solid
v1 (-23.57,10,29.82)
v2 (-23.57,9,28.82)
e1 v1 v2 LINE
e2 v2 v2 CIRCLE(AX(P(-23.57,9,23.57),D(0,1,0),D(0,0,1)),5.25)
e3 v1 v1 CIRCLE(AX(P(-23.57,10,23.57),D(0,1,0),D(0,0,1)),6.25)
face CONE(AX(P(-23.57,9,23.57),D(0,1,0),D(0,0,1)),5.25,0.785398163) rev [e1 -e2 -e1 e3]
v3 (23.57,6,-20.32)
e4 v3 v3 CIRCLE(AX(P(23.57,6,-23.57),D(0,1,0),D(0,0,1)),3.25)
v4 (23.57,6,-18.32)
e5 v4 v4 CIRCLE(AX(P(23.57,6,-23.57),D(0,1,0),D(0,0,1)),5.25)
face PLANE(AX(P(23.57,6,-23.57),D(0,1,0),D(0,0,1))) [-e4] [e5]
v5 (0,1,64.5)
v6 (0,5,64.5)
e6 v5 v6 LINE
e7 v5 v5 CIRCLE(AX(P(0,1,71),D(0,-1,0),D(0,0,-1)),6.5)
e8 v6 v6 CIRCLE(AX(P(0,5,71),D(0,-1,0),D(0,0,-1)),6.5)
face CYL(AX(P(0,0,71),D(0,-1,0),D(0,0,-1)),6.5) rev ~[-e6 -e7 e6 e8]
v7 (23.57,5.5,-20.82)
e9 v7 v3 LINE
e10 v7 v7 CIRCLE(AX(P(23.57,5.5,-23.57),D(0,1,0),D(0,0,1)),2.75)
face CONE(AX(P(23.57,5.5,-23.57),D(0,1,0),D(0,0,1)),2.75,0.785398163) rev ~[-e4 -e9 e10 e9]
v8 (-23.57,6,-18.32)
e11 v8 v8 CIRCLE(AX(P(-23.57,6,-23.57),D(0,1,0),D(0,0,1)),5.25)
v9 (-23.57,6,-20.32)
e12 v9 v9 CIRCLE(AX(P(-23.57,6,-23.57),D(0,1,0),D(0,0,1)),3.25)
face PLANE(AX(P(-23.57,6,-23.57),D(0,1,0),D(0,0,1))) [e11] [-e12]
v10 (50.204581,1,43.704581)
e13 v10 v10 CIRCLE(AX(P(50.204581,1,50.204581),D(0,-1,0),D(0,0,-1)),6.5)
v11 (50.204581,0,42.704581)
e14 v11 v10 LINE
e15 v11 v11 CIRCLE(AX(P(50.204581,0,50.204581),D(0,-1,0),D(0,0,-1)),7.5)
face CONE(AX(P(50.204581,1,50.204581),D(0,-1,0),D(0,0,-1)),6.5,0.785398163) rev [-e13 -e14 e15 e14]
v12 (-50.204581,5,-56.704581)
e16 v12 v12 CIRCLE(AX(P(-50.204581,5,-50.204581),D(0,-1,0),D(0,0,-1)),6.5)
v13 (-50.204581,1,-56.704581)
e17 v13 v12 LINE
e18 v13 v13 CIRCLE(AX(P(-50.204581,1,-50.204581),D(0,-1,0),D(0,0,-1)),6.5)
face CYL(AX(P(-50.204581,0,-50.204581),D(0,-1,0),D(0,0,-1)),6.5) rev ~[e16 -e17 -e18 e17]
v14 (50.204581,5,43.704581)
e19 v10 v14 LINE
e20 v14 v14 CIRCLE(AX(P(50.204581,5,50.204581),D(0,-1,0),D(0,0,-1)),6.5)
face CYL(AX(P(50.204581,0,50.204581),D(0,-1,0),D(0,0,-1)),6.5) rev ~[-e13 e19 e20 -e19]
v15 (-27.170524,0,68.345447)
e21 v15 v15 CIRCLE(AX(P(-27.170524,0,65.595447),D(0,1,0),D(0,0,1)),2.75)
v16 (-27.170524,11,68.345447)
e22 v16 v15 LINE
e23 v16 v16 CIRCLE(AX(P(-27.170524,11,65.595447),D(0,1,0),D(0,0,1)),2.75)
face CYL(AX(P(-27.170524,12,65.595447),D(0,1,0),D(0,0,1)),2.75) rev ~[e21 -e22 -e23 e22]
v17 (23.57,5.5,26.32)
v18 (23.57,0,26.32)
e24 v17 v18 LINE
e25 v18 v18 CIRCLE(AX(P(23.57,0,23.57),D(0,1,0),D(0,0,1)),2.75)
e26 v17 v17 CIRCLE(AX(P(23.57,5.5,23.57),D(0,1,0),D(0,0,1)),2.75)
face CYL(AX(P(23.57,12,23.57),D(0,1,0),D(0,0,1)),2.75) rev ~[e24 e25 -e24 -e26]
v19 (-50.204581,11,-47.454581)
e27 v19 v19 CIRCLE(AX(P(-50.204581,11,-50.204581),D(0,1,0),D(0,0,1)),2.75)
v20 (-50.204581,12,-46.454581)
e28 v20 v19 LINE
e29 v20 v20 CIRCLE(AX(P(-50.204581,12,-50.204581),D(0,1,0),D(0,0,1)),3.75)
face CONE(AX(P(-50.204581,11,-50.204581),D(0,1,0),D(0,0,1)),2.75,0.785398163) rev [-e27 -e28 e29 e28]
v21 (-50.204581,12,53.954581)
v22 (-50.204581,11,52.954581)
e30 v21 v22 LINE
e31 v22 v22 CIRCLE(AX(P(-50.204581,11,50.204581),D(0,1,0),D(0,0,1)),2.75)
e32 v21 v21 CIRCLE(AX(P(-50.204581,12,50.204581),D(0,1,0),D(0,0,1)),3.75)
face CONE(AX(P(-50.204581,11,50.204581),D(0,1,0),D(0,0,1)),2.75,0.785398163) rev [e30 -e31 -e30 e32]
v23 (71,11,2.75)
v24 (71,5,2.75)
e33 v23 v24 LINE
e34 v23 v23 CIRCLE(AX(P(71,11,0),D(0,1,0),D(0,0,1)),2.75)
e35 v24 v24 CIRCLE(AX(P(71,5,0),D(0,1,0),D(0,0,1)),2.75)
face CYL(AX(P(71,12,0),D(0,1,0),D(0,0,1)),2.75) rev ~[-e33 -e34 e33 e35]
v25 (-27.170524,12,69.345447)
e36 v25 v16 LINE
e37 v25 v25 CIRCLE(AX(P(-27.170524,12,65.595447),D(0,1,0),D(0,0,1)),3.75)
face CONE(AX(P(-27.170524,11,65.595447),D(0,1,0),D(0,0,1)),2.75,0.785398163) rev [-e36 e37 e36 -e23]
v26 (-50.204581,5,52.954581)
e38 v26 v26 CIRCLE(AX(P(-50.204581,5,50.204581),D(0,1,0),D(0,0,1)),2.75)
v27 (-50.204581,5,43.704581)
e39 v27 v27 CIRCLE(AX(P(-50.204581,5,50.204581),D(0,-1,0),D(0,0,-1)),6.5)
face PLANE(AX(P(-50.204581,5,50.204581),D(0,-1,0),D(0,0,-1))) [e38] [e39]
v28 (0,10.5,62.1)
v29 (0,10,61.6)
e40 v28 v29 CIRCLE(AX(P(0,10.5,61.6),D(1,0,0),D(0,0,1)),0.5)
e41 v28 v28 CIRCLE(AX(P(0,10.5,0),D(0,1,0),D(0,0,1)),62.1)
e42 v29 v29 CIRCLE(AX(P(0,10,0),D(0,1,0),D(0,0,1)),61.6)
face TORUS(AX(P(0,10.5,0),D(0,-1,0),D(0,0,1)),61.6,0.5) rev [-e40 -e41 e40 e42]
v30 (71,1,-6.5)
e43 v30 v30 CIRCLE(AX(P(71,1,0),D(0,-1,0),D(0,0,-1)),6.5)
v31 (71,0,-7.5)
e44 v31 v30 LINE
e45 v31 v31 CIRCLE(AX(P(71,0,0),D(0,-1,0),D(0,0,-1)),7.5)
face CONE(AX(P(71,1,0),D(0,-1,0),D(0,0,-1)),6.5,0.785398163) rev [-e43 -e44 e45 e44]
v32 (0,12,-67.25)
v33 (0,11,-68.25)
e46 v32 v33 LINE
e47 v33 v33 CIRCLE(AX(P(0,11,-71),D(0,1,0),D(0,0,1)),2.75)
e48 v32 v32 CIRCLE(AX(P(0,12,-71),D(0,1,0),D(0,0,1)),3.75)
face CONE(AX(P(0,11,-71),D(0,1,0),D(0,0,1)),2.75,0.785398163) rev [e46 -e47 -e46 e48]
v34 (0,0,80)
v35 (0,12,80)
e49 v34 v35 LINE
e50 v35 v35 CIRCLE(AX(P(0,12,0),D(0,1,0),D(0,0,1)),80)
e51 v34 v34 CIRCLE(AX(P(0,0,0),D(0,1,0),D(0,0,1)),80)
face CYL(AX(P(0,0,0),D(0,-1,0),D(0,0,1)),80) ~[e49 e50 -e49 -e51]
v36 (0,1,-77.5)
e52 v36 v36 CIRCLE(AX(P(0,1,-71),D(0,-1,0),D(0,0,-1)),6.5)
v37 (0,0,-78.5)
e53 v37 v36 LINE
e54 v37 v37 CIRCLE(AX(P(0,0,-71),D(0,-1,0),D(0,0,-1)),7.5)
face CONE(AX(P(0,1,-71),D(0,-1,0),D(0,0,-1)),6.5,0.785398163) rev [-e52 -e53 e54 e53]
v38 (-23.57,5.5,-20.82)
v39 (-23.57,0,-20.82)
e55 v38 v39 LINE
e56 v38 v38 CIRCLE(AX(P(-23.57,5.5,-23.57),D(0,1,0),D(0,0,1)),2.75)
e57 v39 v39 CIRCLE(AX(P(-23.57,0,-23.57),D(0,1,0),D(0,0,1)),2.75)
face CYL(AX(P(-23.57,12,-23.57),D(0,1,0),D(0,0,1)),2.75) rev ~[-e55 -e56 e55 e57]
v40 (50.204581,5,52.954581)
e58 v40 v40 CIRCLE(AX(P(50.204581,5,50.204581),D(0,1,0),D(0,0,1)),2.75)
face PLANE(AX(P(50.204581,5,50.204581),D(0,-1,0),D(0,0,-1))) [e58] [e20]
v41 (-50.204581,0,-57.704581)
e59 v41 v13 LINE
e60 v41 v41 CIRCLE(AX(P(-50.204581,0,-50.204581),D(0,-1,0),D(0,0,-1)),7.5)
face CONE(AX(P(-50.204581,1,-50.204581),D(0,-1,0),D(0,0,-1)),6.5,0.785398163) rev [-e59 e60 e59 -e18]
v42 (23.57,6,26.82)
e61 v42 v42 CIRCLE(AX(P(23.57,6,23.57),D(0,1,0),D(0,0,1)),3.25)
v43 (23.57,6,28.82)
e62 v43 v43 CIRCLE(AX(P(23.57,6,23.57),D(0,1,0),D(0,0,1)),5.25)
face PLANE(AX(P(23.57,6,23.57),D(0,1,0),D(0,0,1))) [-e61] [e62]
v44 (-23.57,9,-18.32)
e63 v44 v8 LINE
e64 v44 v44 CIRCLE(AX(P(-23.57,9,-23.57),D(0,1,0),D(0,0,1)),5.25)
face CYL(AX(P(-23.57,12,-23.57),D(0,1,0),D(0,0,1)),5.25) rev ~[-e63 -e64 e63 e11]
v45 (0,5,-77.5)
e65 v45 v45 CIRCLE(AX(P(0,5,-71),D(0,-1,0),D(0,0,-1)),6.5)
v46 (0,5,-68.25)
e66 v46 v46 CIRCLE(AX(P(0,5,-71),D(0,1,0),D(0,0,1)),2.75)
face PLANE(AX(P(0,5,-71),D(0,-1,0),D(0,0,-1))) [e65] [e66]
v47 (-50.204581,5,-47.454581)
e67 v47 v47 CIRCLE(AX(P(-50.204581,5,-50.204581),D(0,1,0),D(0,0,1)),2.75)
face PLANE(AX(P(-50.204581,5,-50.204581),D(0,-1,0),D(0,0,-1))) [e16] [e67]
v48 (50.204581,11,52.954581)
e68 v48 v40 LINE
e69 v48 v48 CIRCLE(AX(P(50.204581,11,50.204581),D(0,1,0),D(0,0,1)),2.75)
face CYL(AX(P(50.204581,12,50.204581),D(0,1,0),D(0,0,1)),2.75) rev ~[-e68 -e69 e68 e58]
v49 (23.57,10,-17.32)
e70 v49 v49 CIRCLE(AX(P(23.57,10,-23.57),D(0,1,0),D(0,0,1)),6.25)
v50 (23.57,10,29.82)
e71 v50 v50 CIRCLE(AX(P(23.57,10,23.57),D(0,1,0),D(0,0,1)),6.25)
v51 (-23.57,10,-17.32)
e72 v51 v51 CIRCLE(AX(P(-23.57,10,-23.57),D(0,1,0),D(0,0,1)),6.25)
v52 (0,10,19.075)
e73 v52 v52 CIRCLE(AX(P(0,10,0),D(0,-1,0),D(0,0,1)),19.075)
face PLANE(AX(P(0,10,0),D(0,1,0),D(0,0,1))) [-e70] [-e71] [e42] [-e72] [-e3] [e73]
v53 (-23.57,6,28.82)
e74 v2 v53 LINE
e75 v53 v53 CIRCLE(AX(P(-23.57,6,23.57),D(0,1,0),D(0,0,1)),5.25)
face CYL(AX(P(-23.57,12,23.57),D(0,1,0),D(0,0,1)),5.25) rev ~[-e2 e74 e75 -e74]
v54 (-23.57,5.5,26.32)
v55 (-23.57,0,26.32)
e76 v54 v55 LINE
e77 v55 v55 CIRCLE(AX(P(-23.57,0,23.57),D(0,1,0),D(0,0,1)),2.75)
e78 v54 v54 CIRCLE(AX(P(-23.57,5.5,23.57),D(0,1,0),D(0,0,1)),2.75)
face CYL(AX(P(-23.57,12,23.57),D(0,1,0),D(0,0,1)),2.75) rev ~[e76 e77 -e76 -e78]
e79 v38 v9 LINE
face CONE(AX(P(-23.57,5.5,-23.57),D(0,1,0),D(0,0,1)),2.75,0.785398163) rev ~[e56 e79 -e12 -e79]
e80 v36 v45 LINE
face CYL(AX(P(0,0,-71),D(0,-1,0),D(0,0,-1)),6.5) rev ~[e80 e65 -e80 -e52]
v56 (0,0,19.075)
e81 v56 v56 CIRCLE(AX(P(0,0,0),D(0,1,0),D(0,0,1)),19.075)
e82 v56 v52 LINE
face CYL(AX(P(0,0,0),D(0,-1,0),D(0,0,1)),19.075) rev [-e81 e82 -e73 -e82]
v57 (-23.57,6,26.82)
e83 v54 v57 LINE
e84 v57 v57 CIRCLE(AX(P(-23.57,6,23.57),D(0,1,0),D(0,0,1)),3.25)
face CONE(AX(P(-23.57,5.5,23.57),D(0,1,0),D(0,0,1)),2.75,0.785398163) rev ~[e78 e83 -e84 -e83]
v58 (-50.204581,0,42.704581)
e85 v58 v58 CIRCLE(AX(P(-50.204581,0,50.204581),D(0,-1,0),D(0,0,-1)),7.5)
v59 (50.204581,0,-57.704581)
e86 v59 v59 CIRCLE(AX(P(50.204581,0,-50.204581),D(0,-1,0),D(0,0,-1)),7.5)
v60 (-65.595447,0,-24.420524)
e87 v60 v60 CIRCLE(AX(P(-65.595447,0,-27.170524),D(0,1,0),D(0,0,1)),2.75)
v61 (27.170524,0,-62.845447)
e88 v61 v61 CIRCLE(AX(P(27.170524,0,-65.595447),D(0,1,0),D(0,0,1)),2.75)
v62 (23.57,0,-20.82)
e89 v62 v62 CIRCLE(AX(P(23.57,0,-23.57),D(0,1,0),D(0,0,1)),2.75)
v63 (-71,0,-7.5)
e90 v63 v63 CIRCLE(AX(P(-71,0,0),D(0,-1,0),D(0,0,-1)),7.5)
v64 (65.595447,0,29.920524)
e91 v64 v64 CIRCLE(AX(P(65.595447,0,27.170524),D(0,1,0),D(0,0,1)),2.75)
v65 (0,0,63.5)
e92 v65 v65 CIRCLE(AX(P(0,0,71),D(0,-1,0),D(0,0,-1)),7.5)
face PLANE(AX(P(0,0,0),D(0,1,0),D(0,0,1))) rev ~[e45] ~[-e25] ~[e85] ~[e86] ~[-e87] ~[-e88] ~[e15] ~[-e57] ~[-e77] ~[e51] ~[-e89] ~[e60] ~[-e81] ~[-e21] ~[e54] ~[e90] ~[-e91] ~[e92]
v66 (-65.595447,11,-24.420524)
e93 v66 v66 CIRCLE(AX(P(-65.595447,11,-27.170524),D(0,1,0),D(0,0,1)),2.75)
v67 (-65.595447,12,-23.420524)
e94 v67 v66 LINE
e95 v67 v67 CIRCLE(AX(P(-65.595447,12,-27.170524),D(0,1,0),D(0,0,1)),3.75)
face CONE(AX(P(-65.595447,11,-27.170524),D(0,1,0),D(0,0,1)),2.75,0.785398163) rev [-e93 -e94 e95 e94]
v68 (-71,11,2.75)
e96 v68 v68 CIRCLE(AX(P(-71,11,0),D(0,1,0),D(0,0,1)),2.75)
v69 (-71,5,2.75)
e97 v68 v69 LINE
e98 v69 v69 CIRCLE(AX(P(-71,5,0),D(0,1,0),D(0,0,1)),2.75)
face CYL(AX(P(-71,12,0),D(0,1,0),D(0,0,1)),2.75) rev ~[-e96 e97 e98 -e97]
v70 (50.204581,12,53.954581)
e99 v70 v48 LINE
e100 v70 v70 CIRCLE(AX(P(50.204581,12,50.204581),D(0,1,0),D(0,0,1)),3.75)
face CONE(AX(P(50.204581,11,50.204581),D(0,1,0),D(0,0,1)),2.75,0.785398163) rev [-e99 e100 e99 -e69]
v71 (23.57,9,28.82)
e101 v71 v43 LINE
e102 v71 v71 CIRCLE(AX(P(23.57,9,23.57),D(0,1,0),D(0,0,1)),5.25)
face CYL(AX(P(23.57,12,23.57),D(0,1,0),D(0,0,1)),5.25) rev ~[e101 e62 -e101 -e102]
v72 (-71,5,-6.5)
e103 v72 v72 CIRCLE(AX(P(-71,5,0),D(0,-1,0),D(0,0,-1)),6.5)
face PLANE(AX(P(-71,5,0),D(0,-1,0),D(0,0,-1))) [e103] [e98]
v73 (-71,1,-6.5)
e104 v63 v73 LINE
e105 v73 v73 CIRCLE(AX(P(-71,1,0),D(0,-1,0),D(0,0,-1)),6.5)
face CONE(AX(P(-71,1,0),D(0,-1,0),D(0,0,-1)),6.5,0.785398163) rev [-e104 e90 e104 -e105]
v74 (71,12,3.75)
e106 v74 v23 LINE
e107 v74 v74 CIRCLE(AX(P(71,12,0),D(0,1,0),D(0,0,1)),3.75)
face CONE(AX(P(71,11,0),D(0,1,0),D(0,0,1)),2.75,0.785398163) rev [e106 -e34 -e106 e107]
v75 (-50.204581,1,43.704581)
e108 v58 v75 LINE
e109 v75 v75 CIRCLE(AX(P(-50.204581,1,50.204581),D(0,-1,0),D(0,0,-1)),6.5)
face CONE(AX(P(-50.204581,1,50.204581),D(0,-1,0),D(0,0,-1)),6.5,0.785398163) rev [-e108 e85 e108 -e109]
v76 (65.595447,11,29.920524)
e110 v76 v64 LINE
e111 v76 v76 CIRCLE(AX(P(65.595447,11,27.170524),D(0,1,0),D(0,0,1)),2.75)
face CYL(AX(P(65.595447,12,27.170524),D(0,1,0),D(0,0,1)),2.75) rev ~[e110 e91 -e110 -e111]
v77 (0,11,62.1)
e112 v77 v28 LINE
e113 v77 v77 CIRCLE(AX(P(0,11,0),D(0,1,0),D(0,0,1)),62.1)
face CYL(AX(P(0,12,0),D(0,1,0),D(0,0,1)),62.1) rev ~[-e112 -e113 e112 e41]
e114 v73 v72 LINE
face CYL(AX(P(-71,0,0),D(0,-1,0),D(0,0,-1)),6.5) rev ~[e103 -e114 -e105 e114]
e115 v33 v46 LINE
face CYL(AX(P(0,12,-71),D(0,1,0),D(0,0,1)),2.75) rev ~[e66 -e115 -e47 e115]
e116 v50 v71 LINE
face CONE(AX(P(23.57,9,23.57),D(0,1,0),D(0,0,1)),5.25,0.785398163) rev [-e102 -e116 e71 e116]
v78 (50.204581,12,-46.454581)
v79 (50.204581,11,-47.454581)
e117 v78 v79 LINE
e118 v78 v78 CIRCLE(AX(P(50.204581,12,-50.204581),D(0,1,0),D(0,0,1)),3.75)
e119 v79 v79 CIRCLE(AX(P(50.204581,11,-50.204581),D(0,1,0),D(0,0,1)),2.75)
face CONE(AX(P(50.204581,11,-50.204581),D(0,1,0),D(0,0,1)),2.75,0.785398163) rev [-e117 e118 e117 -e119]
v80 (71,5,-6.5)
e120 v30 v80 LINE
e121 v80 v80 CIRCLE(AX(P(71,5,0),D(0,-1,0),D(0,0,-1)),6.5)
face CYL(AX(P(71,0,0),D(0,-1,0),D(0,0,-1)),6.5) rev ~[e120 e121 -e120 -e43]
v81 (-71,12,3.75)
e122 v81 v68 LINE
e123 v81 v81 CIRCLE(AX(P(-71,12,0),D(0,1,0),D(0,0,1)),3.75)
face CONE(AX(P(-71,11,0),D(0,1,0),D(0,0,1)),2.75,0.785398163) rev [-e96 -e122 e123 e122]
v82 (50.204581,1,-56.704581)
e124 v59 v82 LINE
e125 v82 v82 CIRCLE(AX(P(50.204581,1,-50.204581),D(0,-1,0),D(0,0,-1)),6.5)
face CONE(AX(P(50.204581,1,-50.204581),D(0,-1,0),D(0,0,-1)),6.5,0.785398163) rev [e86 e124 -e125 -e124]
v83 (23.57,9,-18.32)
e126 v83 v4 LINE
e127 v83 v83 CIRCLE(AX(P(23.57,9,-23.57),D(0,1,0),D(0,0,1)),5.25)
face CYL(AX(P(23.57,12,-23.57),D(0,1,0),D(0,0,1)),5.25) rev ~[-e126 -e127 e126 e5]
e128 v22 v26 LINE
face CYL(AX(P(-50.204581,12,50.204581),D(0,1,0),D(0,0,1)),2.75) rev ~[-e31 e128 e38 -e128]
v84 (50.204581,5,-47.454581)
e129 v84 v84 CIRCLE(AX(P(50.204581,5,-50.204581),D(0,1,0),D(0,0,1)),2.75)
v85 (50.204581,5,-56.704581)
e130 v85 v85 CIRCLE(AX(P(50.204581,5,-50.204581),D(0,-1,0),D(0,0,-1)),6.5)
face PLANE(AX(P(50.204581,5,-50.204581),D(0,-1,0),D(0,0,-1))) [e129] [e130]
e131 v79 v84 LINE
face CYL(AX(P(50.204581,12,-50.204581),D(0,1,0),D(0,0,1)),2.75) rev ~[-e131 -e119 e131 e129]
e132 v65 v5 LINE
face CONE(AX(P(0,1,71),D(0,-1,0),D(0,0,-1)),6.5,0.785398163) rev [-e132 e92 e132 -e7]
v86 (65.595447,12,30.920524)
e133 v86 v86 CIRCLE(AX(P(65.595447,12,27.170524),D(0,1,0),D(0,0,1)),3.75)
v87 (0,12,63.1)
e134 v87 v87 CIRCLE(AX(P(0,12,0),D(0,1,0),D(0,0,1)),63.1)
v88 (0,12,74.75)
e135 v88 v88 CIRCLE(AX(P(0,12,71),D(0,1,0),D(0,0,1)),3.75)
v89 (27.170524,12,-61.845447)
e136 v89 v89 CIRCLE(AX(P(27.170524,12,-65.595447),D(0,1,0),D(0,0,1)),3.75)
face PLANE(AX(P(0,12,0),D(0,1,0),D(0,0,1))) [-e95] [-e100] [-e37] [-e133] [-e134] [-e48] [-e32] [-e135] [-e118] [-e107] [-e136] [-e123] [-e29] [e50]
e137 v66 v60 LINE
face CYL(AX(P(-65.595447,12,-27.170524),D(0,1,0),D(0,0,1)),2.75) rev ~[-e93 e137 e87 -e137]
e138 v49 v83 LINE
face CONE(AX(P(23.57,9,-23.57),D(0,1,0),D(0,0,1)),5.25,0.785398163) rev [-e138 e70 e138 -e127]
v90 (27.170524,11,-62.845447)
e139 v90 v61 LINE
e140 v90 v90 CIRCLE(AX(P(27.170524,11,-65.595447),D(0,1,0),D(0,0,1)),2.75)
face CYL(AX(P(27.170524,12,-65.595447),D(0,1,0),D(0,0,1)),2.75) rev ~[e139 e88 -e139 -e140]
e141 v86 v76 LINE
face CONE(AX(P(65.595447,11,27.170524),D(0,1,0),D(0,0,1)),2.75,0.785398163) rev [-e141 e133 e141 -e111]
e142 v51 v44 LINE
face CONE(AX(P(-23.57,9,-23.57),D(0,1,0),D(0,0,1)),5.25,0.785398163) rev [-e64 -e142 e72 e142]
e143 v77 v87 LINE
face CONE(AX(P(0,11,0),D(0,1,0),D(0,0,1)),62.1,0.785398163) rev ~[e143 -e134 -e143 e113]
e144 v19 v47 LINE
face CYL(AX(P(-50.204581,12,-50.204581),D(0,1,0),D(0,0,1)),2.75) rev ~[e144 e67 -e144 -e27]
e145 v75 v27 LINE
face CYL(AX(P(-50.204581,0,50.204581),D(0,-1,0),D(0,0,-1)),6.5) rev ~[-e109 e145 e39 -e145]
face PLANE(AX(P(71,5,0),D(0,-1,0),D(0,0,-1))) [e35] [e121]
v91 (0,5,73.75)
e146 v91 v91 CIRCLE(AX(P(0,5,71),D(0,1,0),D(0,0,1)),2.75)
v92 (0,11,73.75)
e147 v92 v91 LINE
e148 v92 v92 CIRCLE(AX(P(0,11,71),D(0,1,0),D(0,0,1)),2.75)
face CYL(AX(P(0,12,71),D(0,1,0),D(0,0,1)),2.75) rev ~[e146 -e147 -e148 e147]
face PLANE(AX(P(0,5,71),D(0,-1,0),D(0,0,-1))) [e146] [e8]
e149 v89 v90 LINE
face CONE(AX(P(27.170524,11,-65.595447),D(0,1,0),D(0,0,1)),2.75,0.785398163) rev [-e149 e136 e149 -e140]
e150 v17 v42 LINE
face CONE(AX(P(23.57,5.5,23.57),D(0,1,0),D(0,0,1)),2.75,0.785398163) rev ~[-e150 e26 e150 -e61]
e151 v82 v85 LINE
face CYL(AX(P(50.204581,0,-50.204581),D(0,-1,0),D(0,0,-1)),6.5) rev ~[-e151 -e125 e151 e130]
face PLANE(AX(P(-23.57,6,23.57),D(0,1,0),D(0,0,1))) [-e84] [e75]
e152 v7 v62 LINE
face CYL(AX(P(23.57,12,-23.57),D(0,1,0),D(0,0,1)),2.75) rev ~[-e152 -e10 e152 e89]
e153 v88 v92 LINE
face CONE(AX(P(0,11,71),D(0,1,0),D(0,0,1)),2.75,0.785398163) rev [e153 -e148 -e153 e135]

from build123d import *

# Parameters (mm, degrees)
SKETCH1_R           = 80
SKETCH1_R_2         = 19.075
BOSS_EXTRUDE1_DEPTH = 12
SKETCH2_R           = 2.75
CUT_EXTRUDE1_DEPTH  = 114.771701227
SKETCH3_R           = 5.25
CUT_EXTRUDE2_DEPTH  = 6
SKETCH4_R           = 62.1
CUT_EXTRUDE3_DEPTH  = 2
SKETCH5_R           = 2.75
CUT_EXTRUDE4_DEPTH  = 114.771701227
SKETCH8_R           = 6.5
CUT_EXTRUDE5_DEPTH  = 5
FILLET1_R           = 0.5
CHAMFER1_SIZE       = 1
CHAMFER2_SIZE       = 1
CHAMFER3_SIZE       = 1
CHAMFER4_SIZE       = 0.5


with BuildPart() as part:
    # Sketch1 → Boss-Extrude1 (new body)
    with BuildSketch(Plane(origin=(0, 0, 0), x_dir=(1, 0, 0), z_dir=(0, 1, 0))):
        Circle(SKETCH1_R)
        Circle(SKETCH1_R_2, mode=Mode.SUBTRACT)
    extrude(amount=BOSS_EXTRUDE1_DEPTH)

    # Sketch2 → Cut-Extrude1 (cut, through all)
    with BuildSketch(Plane(origin=(0, 12, 0), x_dir=(1, 0, 0), z_dir=(0, 1, 0))):
        with Locations((-23.57, 23.57)):
            Circle(SKETCH2_R)
        with Locations((23.57, 23.57)):
            Circle(SKETCH2_R)
        with Locations((-23.57, -23.57)):
            Circle(SKETCH2_R)
        with Locations((23.57, -23.57)):
            Circle(SKETCH2_R)
    extrude(amount=-CUT_EXTRUDE1_DEPTH, mode=Mode.SUBTRACT)

    # Sketch3 → Cut-Extrude2 (cut)
    with BuildSketch(Plane(origin=(0, 12, 0), x_dir=(1, 0, 0), z_dir=(0, 1, 0))):
        with Locations((-23.57, 23.57)):
            Circle(SKETCH3_R)
        with Locations((23.57, 23.57)):
            Circle(SKETCH3_R)
        with Locations((-23.57, -23.57)):
            Circle(SKETCH3_R)
        with Locations((23.57, -23.57)):
            Circle(SKETCH3_R)
    extrude(amount=-CUT_EXTRUDE2_DEPTH, mode=Mode.SUBTRACT)

    # Sketch4 → Cut-Extrude3 (cut)
    with BuildSketch(Plane(origin=(0, 12, 0), x_dir=(1, 0, 0), z_dir=(0, 1, 0))):
        Circle(SKETCH4_R)
    extrude(amount=-CUT_EXTRUDE3_DEPTH, mode=Mode.SUBTRACT)

    # Sketch5 → Cut-Extrude4 (cut, through all)
    with BuildSketch(Plane(origin=(0, 12, 0), x_dir=(1, 0, 0), z_dir=(0, 1, 0))):
        with Locations((0, 71)):
            Circle(SKETCH5_R)
        with Locations((27.170523698, 65.595446808)):
            Circle(SKETCH5_R)
        with Locations((50.204581464, 50.204581464)):
            Circle(SKETCH5_R)
        with Locations((71, 0)):
            Circle(SKETCH5_R)
        with Locations((50.204581464, -50.204581464)):
            Circle(SKETCH5_R)
        with Locations((0, -71)):
            Circle(SKETCH5_R)
        with Locations((-50.204581464, -50.204581464)):
            Circle(SKETCH5_R)
        with Locations((-71, 0)):
            Circle(SKETCH5_R)
        with Locations((-50.204581464, 50.204581464)):
            Circle(SKETCH5_R)
        with Locations((65.595446808, -27.170523698)):
            Circle(SKETCH5_R)
        with Locations((-27.170523698, -65.595446808)):
            Circle(SKETCH5_R)
        with Locations((-65.595446808, 27.170523698)):
            Circle(SKETCH5_R)
    extrude(amount=-CUT_EXTRUDE4_DEPTH, mode=Mode.SUBTRACT)

    # Sketch8 → Cut-Extrude5 (cut)
    with BuildSketch(Plane.XZ):
        with Locations((0, -71)):
            Circle(SKETCH8_R)
        with Locations((-50.204581464, -50.204581464)):
            Circle(SKETCH8_R)
        with Locations((-71, 0)):
            Circle(SKETCH8_R)
        with Locations((-50.204581464, 50.204581464)):
            Circle(SKETCH8_R)
        with Locations((0, 71)):
            Circle(SKETCH8_R)
        with Locations((50.204581464, 50.204581464)):
            Circle(SKETCH8_R)
        with Locations((71, 0)):
            Circle(SKETCH8_R)
        with Locations((50.204581464, -50.204581464)):
            Circle(SKETCH8_R)
    extrude(amount=-CUT_EXTRUDE5_DEPTH, mode=Mode.SUBTRACT)

    # Fillet1
    fillet1_edges = [part.edges().sort_by_distance(p)[0] for p in [
        (-62.1, 10, 0),
    ]]
    fillet(fillet1_edges, radius=FILLET1_R)

    # Chamfer1
    chamfer1_edges = [part.edges().sort_by_distance(p)[0] for p in [
        (-62.1, 12, 0),
    ]]
    chamfer(chamfer1_edges, length=CHAMFER1_SIZE)

    # Chamfer2
    chamfer2_edges = [part.edges().sort_by_distance(p)[0] for p in [
        (24.420523698, 12, -65.595446808),
        (-2.75, 12, -71),
        (-28.82, 10, -23.57),
        (18.32, 10, -23.57),
        (18.32, 10, 23.57),
        (-28.82, 10, 23.57),
        (-68.345446808, 12, -27.170523698),
        (-73.75, 12, 0),
        (-52.954581464, 12, 50.204581464),
        (-29.920523698, 12, 65.595446808),
        (-2.75, 12, 71),
        (47.454581464, 12, 50.204581464),
        (62.845446808, 12, 27.170523698),
        (68.25, 12, 0),
        (47.454581464, 12, -50.204581464),
        (-52.954581464, 12, -50.204581464),
    ]]
    chamfer(chamfer2_edges, length=CHAMFER2_SIZE)

    # Chamfer3
    chamfer3_edges = [part.edges().sort_by_distance(p)[0] for p in [
        (-6.5, 0, -71),
        (43.704581464, 0, -50.204581464),
        (64.5, 0, 0),
        (43.704581464, 0, 50.204581464),
        (-6.5, 0, 71),
        (-56.704581464, 0, 50.204581464),
        (-77.5, 0, 0),
        (-56.704581464, 0, -50.204581464),
    ]]
    chamfer(chamfer3_edges, length=CHAMFER3_SIZE)

    # Chamfer4
    chamfer4_edges = [part.edges().sort_by_distance(p)[0] for p in [
        (-26.32, 6, 23.57),
        (20.82, 6, 23.57),
        (20.82, 6, -23.57),
        (-26.32, 6, -23.57),
    ]]
    chamfer(chamfer4_edges, length=CHAMFER4_SIZE)


solid = part.part
